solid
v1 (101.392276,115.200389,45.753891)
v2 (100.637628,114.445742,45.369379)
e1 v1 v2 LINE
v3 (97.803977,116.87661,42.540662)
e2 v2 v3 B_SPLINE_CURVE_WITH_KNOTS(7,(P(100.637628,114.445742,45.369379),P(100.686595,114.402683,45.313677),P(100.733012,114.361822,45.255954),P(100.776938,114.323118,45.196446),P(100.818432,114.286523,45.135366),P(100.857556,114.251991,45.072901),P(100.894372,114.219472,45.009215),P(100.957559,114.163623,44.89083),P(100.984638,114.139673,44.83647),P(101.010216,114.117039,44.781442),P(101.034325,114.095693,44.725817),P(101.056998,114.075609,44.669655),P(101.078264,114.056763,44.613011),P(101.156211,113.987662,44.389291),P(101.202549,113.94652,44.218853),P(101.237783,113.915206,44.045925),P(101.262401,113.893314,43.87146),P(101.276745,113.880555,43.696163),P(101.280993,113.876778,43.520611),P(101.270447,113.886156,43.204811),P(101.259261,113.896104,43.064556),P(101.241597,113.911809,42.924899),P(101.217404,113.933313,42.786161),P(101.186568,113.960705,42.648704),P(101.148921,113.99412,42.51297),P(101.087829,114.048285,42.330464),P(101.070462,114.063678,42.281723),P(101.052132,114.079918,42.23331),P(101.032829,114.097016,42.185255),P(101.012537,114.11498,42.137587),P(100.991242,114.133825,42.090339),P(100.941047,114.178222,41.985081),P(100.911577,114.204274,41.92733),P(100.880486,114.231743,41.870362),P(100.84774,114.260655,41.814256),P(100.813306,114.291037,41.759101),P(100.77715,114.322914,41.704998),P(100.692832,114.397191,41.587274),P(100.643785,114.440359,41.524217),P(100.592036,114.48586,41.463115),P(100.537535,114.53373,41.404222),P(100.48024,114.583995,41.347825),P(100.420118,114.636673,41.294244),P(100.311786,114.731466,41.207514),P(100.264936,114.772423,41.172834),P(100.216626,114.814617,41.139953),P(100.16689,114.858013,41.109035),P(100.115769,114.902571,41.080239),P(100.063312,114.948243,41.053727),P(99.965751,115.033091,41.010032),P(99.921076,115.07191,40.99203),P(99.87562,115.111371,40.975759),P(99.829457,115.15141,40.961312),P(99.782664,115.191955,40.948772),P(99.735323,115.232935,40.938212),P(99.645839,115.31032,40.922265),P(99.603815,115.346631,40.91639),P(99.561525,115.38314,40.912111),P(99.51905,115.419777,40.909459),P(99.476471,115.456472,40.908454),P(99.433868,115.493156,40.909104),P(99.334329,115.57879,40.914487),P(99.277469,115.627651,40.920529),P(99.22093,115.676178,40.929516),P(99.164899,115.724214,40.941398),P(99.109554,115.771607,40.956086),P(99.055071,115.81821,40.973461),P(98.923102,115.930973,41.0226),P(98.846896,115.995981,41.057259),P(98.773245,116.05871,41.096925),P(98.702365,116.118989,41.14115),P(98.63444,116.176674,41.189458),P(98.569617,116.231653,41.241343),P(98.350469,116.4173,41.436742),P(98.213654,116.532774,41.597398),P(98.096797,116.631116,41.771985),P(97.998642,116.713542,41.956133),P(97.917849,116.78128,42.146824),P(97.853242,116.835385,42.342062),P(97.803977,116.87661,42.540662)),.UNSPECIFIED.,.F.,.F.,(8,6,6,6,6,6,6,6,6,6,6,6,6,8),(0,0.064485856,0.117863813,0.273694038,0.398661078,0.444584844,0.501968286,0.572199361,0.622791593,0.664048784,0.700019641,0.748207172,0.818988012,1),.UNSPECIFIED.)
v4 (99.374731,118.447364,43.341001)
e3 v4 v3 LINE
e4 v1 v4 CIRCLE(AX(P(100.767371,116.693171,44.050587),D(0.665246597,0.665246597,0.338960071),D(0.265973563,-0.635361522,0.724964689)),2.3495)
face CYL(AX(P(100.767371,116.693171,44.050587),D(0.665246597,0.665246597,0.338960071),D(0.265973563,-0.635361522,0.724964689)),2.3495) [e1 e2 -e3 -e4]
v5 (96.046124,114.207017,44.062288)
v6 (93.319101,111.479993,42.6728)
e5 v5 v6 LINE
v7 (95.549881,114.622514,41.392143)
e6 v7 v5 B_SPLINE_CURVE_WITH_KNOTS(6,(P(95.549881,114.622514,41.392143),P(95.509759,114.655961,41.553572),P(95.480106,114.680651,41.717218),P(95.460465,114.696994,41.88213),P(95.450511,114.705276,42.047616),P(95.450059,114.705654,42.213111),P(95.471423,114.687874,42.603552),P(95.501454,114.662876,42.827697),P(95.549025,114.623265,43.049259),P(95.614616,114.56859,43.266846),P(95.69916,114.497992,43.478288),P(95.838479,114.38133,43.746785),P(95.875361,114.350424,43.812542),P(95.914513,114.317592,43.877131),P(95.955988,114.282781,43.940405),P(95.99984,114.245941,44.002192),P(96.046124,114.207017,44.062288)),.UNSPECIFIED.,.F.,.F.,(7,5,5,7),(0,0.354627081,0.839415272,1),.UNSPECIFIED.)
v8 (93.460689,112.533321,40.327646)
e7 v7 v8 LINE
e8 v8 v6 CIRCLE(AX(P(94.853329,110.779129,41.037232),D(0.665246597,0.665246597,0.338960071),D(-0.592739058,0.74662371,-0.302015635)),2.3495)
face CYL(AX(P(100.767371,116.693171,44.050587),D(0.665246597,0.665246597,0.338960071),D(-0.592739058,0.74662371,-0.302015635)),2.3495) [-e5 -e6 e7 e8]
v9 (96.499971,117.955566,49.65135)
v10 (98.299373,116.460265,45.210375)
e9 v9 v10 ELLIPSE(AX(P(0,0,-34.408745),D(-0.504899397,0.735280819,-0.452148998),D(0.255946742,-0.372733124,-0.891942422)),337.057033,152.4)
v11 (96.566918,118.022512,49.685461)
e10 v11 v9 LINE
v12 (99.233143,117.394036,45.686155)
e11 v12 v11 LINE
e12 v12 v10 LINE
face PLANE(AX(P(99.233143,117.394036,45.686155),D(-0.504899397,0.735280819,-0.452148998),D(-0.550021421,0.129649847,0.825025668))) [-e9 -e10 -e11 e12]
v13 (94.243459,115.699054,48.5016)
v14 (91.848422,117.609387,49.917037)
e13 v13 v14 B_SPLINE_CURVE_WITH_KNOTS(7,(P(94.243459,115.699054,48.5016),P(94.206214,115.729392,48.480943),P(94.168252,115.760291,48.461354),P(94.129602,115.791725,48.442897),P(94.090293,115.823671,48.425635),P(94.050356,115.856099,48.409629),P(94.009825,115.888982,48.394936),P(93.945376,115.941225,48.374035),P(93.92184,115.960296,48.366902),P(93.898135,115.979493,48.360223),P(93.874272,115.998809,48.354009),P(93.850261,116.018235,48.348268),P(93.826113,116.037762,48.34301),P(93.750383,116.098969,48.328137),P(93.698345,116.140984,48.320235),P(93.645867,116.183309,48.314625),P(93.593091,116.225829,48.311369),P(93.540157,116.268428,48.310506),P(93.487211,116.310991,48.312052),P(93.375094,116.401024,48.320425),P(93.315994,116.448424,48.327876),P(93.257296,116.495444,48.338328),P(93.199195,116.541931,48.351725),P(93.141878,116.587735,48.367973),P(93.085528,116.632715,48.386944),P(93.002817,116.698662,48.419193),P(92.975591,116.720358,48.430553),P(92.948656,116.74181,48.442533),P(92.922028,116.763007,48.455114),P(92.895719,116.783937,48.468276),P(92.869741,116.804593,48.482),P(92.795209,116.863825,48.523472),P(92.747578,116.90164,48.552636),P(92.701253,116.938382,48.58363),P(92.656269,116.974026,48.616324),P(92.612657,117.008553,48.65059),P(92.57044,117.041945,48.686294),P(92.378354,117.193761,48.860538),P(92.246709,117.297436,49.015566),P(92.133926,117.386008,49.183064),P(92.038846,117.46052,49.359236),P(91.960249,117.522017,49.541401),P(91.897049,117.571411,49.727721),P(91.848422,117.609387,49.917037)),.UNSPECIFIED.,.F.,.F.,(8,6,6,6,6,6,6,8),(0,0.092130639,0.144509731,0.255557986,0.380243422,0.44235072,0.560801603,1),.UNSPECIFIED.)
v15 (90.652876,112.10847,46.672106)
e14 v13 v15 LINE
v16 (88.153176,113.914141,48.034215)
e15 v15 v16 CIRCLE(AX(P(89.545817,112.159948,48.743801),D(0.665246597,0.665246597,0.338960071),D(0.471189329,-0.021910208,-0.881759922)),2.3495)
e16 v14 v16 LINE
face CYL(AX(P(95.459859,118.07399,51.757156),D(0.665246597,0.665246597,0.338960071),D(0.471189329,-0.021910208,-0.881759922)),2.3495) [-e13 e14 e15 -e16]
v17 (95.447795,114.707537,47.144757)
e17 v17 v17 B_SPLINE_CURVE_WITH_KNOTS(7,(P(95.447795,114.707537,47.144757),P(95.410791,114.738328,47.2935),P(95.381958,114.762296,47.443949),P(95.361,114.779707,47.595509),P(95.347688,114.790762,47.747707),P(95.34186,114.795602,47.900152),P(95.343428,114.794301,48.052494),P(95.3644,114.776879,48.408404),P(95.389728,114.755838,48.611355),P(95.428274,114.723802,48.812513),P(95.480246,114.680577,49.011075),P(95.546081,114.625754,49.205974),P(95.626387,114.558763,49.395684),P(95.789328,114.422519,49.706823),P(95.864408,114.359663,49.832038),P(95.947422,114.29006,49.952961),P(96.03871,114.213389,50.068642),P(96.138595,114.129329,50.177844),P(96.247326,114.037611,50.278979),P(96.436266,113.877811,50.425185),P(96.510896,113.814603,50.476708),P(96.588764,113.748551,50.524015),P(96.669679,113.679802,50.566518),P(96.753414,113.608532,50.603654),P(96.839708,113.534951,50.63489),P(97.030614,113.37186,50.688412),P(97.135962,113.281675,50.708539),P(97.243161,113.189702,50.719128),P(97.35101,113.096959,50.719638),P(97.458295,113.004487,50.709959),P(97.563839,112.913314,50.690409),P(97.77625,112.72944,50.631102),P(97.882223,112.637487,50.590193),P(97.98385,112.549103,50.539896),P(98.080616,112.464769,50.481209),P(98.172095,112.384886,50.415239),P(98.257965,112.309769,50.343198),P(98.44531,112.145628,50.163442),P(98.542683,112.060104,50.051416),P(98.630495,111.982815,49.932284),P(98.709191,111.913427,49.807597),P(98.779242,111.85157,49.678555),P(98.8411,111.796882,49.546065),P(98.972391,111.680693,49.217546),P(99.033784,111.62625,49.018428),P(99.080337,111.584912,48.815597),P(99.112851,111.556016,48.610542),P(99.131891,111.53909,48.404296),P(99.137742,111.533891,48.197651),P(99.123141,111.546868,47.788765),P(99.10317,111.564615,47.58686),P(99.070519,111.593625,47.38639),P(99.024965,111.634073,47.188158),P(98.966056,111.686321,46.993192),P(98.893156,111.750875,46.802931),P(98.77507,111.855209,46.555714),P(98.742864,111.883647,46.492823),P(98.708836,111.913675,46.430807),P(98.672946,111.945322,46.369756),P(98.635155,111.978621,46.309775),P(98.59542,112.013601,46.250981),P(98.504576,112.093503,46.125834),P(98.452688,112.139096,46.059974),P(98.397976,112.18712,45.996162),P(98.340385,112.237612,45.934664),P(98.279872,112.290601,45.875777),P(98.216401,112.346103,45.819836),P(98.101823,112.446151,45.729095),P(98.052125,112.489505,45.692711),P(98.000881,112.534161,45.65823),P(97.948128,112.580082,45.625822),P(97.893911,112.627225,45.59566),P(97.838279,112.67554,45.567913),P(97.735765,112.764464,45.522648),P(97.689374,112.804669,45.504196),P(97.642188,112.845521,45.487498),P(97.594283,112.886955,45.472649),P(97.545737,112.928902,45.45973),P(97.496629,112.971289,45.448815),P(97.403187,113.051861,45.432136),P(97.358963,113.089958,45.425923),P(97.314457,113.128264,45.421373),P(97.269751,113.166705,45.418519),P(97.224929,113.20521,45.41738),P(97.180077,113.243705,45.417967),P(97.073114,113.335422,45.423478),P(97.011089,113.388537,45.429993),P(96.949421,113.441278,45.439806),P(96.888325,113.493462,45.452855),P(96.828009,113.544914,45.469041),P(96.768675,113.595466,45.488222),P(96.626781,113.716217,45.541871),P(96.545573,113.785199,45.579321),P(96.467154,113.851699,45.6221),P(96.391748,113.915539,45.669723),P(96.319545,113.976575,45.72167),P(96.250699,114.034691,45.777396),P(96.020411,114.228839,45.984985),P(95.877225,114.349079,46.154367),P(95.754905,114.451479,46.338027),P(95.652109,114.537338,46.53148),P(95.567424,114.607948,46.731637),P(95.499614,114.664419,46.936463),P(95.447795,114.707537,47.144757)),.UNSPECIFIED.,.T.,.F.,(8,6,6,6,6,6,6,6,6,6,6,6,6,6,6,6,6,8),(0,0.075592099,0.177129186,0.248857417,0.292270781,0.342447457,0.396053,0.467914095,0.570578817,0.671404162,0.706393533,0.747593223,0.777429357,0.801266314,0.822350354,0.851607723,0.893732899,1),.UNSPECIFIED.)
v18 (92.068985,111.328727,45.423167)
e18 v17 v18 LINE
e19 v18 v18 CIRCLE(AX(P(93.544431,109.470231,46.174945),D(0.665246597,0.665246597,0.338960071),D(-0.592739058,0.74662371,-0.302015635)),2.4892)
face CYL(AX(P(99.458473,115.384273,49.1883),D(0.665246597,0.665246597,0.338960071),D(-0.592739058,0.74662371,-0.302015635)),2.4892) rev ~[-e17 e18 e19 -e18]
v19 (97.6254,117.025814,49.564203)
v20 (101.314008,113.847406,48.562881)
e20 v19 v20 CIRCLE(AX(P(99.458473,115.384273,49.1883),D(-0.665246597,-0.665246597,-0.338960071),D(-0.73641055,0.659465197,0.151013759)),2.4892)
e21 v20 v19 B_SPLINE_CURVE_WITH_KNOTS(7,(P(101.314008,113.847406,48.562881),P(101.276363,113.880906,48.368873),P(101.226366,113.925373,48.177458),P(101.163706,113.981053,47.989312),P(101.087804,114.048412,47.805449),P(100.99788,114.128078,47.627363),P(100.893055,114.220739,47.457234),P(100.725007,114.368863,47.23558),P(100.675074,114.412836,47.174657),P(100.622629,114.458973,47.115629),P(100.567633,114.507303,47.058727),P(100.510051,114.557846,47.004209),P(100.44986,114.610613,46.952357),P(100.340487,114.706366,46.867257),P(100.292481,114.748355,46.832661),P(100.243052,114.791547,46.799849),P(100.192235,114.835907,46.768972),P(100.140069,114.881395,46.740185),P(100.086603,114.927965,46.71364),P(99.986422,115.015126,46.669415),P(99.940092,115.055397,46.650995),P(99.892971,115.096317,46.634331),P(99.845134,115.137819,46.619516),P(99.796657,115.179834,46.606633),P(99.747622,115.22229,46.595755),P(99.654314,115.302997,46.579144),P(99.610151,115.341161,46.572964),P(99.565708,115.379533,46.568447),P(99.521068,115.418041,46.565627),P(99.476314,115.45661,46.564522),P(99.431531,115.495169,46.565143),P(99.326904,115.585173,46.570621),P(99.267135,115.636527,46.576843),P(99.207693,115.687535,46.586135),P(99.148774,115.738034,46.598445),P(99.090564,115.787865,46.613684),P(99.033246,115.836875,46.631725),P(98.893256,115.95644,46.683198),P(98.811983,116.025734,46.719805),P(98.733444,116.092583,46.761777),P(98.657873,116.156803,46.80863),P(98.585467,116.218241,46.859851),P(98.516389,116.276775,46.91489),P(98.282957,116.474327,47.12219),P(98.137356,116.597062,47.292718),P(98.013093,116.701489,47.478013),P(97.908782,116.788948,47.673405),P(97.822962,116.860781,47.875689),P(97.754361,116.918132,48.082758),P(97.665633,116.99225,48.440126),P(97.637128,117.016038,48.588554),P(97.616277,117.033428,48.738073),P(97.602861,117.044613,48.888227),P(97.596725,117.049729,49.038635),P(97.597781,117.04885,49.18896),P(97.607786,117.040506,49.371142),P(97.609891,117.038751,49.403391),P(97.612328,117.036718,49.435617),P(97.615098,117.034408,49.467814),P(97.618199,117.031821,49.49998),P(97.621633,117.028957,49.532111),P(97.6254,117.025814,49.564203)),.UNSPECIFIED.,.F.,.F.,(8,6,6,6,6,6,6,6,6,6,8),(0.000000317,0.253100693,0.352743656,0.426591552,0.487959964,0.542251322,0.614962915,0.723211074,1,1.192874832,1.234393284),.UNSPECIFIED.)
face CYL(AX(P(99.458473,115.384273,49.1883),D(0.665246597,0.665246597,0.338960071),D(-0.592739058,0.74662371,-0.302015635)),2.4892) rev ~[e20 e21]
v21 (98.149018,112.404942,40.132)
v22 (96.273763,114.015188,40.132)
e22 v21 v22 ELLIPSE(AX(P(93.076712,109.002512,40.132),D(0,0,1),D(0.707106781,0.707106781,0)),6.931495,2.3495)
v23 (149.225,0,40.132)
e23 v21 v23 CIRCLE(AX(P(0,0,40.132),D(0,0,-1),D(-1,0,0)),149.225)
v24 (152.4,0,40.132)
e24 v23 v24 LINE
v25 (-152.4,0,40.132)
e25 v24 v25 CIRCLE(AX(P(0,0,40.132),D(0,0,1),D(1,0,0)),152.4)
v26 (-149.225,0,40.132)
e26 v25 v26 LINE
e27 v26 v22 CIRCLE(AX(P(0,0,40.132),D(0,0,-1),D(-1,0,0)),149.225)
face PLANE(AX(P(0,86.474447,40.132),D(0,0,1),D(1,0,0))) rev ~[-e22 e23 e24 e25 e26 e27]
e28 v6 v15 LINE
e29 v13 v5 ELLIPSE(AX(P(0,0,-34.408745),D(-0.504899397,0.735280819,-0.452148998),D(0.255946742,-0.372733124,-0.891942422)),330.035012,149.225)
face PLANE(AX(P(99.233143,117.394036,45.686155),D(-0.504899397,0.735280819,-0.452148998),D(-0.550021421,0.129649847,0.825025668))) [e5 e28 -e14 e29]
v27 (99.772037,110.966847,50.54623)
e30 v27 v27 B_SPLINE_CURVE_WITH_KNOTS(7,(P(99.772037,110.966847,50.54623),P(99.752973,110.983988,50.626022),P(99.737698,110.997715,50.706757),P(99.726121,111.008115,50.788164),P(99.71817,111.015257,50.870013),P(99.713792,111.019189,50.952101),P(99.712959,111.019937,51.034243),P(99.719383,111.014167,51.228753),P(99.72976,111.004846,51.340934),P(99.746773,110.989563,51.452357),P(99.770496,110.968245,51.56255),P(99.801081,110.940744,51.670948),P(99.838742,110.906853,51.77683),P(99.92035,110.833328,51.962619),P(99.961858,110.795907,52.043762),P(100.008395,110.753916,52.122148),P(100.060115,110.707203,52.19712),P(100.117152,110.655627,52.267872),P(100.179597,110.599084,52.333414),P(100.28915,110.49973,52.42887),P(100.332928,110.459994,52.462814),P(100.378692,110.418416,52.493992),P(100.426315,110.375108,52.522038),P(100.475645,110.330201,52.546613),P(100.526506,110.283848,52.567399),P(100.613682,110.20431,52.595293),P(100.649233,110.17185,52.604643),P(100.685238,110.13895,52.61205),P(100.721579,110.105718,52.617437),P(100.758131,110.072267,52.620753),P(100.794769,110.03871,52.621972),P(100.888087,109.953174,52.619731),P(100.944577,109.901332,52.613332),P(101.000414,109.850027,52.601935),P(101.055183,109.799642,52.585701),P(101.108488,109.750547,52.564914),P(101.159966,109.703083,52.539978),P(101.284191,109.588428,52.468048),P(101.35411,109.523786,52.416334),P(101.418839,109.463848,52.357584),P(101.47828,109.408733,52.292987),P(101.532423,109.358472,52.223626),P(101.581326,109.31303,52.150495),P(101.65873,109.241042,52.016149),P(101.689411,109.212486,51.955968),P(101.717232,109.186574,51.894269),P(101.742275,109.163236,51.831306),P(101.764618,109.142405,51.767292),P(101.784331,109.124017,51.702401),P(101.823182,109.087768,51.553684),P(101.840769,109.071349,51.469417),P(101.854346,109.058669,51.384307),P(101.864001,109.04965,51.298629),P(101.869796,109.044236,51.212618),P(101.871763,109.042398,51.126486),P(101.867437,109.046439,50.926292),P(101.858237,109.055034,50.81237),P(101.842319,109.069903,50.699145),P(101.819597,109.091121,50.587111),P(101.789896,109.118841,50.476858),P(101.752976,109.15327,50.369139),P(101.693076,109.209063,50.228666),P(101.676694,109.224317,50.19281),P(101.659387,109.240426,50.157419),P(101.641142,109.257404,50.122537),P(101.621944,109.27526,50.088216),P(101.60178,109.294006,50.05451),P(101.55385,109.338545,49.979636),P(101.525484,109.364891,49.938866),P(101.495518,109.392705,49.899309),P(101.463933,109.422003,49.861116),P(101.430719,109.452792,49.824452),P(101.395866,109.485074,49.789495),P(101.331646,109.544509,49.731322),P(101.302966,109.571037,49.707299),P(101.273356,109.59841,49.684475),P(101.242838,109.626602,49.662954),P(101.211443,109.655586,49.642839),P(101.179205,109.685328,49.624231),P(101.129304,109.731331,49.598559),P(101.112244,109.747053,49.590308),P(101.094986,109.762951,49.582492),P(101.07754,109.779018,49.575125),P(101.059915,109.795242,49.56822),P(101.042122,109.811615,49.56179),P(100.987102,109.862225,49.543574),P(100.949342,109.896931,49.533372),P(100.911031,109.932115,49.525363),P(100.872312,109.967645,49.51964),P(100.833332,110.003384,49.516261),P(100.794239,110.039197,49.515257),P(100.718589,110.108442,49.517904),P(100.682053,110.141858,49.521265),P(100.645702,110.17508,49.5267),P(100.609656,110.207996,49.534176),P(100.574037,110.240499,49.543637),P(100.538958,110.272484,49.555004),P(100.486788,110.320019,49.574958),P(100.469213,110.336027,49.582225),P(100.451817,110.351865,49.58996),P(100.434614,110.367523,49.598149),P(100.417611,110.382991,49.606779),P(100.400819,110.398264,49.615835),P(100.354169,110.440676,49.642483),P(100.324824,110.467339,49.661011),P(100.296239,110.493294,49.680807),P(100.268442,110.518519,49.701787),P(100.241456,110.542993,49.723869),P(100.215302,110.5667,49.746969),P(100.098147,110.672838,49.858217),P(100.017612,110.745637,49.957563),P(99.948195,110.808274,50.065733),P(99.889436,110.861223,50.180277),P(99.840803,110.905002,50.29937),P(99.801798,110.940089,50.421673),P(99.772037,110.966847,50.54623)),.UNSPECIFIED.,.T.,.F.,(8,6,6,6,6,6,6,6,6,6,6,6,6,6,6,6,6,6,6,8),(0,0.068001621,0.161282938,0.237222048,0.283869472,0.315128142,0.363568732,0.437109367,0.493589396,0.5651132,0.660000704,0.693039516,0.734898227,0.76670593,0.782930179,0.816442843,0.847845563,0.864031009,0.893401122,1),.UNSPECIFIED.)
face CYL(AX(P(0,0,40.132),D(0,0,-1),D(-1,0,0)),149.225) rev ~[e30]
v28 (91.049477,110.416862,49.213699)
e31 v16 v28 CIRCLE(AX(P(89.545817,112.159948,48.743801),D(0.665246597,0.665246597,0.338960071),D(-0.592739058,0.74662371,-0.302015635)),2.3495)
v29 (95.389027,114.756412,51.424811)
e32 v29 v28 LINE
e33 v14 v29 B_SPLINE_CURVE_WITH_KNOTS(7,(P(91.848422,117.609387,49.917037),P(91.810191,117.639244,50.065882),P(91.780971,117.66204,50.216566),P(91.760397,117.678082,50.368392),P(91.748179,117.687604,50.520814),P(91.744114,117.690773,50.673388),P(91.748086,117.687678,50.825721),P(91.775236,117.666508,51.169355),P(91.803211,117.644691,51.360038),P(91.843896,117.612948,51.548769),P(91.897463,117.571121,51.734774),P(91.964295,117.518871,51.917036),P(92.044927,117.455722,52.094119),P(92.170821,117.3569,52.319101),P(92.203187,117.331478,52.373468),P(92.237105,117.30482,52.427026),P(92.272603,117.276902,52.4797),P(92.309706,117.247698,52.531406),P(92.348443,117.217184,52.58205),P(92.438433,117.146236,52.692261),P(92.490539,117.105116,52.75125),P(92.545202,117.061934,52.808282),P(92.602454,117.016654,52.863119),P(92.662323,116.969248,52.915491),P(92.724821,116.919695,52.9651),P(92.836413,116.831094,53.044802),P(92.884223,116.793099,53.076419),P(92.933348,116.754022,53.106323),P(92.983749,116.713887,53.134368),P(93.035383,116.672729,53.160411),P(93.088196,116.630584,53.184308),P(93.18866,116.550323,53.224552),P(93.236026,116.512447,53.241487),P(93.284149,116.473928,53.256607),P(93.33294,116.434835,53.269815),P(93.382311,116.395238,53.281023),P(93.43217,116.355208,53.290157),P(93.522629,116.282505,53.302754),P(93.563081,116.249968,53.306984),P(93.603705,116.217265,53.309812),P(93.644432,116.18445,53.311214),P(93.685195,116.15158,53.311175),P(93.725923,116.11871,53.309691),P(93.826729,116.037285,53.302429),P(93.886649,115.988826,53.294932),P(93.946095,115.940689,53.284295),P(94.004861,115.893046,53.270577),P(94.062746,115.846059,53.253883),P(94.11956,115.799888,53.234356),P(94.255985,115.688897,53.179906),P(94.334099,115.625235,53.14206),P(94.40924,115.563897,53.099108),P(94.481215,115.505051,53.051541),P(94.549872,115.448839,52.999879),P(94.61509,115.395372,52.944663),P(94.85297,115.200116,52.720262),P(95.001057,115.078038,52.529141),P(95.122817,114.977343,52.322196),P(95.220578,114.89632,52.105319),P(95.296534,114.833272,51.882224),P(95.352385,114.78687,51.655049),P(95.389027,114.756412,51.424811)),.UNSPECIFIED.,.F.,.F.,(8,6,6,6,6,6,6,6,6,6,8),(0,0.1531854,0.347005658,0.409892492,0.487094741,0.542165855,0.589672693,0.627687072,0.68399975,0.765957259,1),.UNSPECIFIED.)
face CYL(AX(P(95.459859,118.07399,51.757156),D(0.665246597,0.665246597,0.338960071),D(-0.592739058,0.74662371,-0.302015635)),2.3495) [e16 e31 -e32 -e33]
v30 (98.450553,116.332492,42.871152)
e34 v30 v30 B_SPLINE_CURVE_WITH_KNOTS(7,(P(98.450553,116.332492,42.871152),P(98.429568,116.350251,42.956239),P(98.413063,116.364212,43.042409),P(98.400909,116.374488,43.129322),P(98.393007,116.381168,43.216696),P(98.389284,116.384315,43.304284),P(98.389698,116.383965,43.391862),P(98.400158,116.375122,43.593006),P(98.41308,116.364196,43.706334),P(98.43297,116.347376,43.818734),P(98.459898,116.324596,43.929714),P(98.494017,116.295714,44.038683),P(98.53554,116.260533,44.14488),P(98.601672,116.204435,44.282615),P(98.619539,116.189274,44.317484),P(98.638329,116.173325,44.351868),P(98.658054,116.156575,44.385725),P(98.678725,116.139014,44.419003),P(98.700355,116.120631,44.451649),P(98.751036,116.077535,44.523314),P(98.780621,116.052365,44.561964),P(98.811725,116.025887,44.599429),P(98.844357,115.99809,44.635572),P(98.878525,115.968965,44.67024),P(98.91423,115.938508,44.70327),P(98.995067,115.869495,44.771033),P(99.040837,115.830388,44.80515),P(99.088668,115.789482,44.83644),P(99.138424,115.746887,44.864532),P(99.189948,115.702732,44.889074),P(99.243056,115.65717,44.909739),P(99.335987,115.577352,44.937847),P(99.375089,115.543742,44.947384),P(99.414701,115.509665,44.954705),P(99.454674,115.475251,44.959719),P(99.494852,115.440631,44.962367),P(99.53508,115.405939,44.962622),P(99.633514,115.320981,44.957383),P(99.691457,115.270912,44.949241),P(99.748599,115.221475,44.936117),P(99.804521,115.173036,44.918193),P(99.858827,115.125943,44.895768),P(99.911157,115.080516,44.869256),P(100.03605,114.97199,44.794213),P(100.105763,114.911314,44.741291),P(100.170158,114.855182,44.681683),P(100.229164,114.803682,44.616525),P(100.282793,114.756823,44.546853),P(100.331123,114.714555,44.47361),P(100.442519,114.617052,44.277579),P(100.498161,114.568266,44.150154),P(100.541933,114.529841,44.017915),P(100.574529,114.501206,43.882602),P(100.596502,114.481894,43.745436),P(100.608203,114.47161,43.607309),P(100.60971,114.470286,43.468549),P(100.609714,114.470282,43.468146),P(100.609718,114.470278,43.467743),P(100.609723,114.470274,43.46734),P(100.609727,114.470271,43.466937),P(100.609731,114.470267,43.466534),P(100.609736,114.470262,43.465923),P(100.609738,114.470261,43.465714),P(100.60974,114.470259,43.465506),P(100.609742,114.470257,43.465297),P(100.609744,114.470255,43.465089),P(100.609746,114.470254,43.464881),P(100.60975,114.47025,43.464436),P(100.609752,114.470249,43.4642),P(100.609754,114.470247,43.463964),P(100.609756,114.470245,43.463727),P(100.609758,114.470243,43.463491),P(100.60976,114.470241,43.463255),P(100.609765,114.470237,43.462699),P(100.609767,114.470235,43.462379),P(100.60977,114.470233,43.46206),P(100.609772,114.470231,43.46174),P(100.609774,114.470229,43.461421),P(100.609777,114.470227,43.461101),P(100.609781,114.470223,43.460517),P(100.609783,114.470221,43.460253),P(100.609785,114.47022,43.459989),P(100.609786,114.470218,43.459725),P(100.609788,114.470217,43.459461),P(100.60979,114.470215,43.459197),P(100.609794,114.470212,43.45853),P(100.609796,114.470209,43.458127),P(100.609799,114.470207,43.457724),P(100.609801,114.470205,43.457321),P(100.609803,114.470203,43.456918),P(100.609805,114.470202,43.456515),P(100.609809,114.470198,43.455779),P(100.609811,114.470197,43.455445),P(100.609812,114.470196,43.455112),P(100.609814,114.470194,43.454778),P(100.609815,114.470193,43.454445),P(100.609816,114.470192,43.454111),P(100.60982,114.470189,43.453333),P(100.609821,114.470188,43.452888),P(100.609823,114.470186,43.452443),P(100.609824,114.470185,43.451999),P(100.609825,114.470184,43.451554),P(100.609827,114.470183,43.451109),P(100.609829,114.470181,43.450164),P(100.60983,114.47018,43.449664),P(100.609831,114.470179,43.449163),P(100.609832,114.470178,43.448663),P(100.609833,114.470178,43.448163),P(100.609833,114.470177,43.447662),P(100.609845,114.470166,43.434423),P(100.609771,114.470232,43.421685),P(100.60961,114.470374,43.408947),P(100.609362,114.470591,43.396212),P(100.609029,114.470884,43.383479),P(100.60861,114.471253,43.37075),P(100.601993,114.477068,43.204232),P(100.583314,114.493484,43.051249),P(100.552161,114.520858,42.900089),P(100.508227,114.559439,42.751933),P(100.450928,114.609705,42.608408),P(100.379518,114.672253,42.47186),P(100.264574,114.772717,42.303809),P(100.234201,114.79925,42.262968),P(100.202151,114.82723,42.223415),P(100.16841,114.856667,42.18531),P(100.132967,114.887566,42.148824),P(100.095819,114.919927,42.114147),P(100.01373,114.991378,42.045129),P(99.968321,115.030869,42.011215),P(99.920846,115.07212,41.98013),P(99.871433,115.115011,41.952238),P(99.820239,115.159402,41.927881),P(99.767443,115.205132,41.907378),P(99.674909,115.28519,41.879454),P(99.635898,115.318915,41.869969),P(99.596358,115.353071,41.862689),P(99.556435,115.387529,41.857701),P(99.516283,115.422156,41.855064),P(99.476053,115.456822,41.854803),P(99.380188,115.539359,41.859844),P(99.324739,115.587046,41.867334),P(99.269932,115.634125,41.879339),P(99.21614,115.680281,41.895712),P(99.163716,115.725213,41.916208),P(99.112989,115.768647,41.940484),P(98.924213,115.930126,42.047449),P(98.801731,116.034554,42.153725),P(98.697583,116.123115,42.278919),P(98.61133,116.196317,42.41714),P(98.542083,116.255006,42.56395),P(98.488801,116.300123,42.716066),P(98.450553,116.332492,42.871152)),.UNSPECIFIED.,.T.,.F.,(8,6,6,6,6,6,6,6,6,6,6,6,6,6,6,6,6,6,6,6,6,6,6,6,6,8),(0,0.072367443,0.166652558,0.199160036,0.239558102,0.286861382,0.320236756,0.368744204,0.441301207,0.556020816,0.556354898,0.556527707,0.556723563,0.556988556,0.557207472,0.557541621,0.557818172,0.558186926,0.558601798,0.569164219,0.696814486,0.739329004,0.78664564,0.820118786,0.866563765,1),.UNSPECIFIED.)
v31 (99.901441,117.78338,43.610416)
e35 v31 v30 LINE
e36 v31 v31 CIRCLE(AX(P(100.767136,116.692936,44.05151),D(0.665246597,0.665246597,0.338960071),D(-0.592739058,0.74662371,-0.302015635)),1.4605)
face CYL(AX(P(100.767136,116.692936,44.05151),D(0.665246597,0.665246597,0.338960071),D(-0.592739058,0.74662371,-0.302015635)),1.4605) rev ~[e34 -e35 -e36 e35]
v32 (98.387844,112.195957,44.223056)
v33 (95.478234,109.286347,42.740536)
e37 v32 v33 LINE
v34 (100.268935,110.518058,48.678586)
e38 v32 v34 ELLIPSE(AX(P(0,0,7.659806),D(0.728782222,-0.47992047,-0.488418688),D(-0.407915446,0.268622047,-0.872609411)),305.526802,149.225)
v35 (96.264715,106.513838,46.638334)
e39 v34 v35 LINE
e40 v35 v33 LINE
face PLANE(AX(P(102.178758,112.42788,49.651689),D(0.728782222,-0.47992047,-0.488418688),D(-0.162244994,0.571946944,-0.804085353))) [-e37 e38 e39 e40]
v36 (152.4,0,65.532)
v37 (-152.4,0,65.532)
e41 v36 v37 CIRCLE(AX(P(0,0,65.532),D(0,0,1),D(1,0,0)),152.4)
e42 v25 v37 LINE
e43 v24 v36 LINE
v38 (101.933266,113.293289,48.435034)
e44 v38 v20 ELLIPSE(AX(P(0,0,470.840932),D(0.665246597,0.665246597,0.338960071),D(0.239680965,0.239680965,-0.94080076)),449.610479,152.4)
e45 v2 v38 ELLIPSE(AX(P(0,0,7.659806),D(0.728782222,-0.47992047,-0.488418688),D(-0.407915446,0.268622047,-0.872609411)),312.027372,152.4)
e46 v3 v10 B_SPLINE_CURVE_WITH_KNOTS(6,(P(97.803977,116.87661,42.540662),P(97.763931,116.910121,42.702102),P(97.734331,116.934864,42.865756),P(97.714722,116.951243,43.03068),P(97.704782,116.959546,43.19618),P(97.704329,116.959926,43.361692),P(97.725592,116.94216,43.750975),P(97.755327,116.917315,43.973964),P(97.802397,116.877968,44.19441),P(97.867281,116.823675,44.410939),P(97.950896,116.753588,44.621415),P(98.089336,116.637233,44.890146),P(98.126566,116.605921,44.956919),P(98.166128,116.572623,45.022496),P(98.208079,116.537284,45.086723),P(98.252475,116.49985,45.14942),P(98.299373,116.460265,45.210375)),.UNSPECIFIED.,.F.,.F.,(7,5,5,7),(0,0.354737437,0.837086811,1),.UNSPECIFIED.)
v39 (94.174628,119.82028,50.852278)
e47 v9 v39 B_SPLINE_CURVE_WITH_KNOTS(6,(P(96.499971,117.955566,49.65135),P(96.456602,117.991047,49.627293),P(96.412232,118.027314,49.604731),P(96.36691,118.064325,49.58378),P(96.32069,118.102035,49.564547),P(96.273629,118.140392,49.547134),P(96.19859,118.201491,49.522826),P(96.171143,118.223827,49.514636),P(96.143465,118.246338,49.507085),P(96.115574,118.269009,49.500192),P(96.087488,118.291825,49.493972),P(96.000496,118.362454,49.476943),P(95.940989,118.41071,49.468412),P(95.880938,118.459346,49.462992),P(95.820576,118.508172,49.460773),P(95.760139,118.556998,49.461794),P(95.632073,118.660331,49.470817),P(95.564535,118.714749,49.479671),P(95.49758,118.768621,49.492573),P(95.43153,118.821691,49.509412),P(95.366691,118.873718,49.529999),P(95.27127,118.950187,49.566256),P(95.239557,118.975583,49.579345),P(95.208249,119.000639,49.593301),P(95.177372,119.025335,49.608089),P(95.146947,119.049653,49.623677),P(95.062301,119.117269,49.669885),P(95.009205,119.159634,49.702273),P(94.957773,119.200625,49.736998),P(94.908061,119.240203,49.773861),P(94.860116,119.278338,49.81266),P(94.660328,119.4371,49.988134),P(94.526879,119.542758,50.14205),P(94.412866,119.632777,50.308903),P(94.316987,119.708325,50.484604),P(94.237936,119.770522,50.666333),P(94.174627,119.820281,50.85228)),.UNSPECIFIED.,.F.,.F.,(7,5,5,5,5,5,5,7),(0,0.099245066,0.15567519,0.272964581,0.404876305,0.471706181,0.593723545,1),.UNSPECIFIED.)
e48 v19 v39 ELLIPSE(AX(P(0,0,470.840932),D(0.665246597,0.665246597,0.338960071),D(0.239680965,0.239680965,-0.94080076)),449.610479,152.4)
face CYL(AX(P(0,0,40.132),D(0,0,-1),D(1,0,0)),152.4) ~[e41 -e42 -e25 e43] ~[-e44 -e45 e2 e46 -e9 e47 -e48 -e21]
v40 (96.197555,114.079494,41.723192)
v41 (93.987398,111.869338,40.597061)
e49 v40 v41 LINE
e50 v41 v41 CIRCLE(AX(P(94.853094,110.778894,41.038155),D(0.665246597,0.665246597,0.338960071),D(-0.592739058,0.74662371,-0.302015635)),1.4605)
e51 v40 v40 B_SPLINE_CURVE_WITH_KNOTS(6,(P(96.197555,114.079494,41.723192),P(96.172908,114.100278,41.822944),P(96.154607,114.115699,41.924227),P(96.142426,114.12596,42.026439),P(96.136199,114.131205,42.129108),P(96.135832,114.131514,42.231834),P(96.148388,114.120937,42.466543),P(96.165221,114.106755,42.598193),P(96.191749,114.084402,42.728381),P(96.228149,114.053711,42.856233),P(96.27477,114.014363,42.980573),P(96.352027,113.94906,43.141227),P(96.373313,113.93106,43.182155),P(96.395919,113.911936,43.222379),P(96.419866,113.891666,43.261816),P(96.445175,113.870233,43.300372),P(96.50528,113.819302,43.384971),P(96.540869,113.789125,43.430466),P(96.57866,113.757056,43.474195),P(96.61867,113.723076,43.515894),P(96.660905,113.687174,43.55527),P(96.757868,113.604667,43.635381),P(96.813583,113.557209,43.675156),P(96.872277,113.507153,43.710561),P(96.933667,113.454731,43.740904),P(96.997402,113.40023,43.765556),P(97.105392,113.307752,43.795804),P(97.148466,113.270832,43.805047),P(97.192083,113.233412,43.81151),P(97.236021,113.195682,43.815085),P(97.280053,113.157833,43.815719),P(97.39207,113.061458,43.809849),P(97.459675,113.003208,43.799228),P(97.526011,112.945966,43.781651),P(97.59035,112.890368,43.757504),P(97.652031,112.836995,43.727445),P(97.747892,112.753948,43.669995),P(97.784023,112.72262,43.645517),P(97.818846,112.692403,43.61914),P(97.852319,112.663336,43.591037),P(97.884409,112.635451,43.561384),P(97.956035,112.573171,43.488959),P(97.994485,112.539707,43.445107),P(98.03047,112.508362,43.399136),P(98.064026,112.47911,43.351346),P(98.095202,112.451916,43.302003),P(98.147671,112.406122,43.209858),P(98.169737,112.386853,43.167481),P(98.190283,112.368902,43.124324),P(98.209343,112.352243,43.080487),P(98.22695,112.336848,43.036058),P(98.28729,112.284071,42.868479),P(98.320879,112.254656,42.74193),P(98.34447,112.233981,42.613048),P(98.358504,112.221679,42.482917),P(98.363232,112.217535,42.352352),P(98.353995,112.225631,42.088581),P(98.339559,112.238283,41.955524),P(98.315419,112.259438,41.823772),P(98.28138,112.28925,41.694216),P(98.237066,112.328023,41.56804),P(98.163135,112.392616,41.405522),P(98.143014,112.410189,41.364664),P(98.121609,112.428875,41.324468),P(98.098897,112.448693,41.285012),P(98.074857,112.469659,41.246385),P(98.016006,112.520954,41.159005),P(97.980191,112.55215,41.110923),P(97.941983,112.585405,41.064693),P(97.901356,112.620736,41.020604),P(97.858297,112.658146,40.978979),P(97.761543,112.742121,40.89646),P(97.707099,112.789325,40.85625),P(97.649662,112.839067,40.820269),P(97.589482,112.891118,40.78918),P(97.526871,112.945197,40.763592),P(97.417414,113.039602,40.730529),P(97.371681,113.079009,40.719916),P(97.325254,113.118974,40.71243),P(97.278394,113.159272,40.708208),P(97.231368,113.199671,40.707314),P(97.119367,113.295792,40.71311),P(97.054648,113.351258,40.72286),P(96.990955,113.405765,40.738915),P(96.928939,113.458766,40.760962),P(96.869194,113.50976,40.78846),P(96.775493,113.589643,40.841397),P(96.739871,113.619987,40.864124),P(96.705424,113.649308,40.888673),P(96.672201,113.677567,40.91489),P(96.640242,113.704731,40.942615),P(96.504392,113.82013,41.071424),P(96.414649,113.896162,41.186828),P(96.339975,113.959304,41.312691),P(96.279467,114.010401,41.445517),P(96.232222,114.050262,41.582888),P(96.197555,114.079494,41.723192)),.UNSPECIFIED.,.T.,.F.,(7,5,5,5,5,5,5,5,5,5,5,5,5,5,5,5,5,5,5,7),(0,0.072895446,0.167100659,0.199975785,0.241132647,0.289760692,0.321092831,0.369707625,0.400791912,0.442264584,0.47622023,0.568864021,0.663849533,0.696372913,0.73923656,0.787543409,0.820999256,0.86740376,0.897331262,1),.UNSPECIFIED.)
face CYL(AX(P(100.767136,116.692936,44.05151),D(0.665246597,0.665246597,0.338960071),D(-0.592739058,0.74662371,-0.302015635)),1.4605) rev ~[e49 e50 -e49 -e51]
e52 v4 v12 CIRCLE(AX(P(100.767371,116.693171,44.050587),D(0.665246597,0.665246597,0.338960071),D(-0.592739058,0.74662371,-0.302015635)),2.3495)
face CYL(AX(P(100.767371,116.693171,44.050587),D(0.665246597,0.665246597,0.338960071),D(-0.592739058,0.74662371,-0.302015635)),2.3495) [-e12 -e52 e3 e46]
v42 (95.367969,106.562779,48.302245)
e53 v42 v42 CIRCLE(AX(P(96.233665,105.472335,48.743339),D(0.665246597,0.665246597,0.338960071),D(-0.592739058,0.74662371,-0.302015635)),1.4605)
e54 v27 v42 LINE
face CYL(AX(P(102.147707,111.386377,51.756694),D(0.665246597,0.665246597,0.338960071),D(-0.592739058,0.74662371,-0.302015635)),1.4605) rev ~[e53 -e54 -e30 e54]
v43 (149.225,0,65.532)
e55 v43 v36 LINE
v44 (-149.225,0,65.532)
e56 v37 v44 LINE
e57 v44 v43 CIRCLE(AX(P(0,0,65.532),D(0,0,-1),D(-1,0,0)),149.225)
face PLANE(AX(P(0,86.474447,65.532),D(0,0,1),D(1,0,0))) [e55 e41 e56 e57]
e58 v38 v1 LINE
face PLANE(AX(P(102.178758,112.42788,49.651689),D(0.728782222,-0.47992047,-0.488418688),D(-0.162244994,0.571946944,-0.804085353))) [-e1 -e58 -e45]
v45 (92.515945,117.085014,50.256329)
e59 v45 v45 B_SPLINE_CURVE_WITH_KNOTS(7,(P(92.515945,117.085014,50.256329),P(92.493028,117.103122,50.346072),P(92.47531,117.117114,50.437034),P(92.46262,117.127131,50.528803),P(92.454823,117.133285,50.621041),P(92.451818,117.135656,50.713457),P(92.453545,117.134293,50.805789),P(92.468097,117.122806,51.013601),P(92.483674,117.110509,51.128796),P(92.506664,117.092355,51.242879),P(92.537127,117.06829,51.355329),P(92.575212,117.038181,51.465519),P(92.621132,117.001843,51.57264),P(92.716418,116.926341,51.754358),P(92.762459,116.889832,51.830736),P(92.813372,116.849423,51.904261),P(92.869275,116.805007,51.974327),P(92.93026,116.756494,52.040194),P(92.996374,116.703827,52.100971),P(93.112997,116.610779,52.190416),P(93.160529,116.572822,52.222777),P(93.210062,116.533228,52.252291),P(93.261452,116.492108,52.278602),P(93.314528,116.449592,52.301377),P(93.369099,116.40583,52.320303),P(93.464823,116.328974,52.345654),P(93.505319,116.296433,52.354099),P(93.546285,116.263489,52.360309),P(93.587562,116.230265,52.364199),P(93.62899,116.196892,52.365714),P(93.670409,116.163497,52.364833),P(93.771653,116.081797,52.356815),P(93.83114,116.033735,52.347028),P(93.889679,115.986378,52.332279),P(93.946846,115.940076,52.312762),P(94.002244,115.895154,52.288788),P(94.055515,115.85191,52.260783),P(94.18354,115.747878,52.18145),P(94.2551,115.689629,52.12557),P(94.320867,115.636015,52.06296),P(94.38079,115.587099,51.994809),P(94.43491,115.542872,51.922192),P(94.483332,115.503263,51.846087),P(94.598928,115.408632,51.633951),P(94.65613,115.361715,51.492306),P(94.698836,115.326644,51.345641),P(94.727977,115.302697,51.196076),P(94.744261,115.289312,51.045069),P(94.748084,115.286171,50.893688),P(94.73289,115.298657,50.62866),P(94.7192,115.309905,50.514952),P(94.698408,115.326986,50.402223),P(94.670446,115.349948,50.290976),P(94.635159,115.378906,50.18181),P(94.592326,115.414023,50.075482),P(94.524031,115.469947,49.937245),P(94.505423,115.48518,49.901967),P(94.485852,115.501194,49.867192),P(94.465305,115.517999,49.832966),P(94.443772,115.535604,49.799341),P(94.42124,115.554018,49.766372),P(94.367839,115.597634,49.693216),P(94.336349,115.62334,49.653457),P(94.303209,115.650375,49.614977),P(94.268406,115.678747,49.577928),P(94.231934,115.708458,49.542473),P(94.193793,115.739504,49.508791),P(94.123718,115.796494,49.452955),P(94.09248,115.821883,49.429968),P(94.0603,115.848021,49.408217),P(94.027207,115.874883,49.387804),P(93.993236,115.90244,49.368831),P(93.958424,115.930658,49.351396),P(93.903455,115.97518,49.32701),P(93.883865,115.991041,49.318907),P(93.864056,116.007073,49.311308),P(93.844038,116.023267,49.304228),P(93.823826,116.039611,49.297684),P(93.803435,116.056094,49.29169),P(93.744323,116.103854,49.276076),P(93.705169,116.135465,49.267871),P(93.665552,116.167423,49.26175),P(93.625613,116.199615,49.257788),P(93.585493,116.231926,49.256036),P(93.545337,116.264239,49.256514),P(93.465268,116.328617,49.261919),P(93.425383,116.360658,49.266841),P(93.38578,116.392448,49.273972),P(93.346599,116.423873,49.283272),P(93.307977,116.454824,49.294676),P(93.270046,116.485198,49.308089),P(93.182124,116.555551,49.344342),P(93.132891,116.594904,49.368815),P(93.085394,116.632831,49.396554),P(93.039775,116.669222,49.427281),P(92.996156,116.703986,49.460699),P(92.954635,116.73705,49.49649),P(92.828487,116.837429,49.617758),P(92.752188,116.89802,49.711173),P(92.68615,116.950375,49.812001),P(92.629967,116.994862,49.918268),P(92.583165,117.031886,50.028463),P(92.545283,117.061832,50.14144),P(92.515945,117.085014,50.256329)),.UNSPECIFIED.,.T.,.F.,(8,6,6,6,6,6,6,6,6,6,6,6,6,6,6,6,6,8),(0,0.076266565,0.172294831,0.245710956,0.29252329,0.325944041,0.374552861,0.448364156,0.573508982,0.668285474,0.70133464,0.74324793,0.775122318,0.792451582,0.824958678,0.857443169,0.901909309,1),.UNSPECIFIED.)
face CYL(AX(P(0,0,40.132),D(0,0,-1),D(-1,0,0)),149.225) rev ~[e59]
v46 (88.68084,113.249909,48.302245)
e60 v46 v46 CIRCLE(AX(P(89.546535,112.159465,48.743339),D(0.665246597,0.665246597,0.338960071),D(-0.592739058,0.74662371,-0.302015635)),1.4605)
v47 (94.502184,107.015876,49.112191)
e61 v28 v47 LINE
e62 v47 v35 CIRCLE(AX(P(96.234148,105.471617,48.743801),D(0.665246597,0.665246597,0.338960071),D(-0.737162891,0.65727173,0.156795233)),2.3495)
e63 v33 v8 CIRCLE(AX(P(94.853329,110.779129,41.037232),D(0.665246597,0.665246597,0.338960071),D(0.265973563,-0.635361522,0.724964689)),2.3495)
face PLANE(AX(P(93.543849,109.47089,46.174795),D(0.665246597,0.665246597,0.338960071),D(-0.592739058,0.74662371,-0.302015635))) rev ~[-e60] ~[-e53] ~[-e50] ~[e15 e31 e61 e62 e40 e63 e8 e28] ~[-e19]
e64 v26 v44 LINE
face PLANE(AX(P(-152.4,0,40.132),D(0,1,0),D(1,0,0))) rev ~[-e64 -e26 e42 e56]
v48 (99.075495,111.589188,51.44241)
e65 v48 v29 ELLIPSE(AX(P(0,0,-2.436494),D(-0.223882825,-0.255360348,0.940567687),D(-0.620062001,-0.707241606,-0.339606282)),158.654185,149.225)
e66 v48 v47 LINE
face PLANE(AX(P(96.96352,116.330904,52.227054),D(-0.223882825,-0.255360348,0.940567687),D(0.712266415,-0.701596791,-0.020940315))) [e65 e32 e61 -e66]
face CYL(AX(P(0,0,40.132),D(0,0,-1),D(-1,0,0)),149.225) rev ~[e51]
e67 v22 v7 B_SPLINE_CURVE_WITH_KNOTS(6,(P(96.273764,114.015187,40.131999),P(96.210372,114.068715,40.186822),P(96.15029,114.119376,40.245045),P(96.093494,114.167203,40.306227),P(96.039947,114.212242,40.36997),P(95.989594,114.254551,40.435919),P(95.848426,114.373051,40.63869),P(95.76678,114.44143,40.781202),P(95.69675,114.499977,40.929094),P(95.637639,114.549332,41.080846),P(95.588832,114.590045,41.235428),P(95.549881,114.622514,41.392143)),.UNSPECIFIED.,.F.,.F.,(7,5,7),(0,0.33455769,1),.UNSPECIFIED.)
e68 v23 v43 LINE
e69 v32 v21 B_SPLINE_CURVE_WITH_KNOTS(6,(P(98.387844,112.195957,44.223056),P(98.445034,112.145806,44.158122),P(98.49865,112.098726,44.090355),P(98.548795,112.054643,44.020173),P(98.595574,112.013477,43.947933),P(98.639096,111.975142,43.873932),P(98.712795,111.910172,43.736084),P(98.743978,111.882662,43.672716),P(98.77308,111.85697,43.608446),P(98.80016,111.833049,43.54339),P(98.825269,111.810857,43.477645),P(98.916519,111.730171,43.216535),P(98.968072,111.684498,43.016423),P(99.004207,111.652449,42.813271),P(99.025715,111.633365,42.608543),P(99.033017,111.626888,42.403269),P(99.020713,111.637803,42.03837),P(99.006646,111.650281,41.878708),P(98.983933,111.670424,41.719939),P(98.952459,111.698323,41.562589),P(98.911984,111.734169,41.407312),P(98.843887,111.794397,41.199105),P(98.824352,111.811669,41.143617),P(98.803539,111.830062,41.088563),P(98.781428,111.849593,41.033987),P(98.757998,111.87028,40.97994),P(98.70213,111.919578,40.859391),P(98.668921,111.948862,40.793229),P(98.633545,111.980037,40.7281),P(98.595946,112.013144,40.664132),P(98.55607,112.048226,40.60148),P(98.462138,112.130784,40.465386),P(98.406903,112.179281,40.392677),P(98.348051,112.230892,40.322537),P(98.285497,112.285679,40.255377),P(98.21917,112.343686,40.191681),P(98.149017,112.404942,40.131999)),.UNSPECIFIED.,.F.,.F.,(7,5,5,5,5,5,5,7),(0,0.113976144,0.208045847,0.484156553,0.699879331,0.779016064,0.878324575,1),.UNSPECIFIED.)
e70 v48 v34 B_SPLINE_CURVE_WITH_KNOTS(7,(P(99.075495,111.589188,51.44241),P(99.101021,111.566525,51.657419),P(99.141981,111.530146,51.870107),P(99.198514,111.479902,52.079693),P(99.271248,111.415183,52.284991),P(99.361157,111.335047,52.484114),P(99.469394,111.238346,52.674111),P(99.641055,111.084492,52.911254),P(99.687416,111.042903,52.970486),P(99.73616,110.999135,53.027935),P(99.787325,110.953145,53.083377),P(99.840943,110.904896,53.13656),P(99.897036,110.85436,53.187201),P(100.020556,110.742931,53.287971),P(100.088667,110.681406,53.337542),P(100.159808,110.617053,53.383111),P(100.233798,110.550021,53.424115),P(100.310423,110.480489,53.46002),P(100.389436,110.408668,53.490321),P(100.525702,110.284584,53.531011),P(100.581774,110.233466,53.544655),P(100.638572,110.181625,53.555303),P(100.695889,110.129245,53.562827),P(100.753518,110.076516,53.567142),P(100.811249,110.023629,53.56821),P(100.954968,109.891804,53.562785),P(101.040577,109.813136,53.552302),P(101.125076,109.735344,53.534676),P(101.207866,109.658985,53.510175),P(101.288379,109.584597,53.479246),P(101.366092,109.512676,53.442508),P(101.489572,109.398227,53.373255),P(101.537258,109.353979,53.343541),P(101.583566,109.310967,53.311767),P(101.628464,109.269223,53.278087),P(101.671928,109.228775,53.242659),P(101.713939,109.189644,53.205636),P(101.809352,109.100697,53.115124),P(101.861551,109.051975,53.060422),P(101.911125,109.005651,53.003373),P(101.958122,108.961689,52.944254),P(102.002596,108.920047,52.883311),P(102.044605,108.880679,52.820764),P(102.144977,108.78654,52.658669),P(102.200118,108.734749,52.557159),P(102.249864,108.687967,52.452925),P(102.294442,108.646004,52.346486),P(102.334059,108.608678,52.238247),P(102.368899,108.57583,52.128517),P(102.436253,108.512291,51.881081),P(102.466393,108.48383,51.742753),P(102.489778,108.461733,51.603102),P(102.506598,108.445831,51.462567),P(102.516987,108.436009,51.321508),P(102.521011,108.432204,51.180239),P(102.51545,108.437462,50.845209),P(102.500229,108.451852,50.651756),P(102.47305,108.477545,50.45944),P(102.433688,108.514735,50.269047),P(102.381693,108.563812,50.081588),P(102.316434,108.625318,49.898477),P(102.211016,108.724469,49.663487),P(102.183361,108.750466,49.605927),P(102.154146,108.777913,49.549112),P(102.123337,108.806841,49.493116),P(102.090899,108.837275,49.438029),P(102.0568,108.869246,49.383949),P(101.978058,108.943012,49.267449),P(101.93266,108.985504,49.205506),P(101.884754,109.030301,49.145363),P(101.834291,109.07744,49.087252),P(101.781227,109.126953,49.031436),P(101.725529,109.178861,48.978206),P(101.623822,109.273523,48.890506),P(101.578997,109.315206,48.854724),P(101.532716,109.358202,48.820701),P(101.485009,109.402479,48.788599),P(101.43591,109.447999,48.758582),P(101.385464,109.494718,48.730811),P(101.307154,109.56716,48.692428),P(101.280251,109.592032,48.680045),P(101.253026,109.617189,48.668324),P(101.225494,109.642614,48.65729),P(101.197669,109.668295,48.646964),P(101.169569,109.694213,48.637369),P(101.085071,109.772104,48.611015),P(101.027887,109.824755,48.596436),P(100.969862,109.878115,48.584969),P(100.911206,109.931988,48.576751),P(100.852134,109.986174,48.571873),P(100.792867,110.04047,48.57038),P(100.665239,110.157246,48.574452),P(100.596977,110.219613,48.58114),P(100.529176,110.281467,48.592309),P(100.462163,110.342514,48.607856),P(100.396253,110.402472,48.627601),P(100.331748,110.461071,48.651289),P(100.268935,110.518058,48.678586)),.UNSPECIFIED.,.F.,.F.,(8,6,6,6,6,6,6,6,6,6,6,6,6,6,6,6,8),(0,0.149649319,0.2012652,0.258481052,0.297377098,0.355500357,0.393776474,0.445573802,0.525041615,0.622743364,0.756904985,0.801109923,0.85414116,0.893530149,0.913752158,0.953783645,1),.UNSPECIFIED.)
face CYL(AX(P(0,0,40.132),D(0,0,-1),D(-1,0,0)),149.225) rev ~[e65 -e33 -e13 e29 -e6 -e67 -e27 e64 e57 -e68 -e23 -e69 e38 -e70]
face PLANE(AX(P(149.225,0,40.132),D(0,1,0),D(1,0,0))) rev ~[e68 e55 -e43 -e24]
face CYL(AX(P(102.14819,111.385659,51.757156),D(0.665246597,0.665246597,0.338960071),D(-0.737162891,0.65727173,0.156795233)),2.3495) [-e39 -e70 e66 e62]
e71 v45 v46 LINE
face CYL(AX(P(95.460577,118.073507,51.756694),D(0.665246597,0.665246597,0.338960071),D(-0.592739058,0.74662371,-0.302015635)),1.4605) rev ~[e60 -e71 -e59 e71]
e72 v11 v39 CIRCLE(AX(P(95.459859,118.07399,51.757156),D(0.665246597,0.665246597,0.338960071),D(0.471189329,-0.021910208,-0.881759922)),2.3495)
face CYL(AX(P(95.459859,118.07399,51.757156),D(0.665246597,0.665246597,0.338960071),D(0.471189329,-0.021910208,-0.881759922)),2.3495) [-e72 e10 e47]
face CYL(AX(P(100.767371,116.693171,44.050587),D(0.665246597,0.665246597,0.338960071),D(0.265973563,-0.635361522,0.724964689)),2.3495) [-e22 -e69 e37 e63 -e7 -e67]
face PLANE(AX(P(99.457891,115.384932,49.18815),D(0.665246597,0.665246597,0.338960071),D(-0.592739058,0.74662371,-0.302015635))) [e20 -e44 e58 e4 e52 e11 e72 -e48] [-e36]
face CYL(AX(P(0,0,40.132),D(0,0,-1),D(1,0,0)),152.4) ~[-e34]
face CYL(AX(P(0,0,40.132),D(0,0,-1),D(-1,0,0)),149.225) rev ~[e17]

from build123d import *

# Parameters (mm, degrees)
F1_DEPTH = 25.4
F8_START = -2.794
F7_R     = 2.4892
F7_R_2   = 1.4605
F8_DEPTH = 8.89


with BuildPart() as f1:
    # F0 (on Top) → F1 (new body)
    with BuildSketch(Plane.XY):
        with BuildLine():
            Line((149.225, 0), (152.4, 0))
            ThreePointArc((152.4, 0), (0, 152.4), (-152.4, 0))
            Line((-152.4, 0), (-149.225, 0))
            ThreePointArc((-149.225, 0), (0, 149.225), (149.225, 0))
        make_face()
    extrude(amount=F1_DEPTH)


with BuildPart() as f1_1:
    # F3: moved
    add(f1.part.moved(Location((0, 0, 40.132))))

    # F7 (on line) → F8 (join)
    with BuildSketch(Plane(origin=(108.0295784467, 108.0295784467, 55.0438195167), x_dir=(-0.5927390582, 0.7466237105, -0.3020156351), z_dir=(0.6652465971, 0.6652465971, 0.3389600714)).offset(F8_START)):
        with BuildLine():
            ThreePointArc((12.093789379, -5.2641145775), (13.3911732083, -4.2558924077), (15.0318776469, -4.3442422195))
            Line((15.0318776469, -4.3442422195), (15.8736359982, 0.4296066149))
            ThreePointArc((15.8736359982, 0.4296066149), (14.3517980719, 1.0490628846), (13.6079590341, 2.5141295145))
            Line((13.6079590341, 2.5141295145), (9.0528054939, 0.8561892133))
            ThreePointArc((9.0528054939, 0.8561892133), (9.2626030629, 0.3163827378), (9.3339812394, -0.258344334))
            ThreePointArc((9.3339812394, -0.258344334), (9.0820807874, -1.3167518103), (8.3803941903, -2.1482060442))
            Line((8.3803941903, -2.1482060442), (12.093789379, -5.2641145775))
        make_face()
        with Locations((12.3400769571, -1.3261062497)):
            Circle(F7_R, mode=Mode.SUBTRACT)
        with BuildLine():
            ThreePointArc((13.6079590341, 2.5141295145), (14.3517980719, 1.0490628846), (15.8736359982, 0.4296066149))
            ThreePointArc((15.8736359982, 0.4296066149), (17.5793729163, 1.0925469), (18.2920837601, 2.7780947363))
            ThreePointArc((18.2920837601, 2.7780947363), (15.8103917482, 5.1238729701), (13.6079590341, 2.5141295145))
        make_face()
        with Locations((15.941936242, 2.7773570432)):
            Circle(F7_R_2, mode=Mode.SUBTRACT)
        with BuildLine():
            ThreePointArc((9.0528054939, 0.8561892133), (4.6917028878, 0.2548005582), (8.3803941903, -2.1482060442))
            ThreePointArc((8.3803941903, -2.1482060442), (9.0820807874, -1.3167518103), (9.3339812394, -0.258344334))
            ThreePointArc((9.3339812394, -0.258344334), (9.2626030629, 0.3163827378), (9.0528054939, 0.8561892133))
        make_face()
        with Locations((6.9854438594, -0.2585362546)):
            Circle(F7_R_2, mode=Mode.SUBTRACT)
        with BuildLine():
            ThreePointArc((12.093789379, -5.2641145775), (13.4518332042, -8.7583440595), (16.4426658717, -6.4980691515))
            ThreePointArc((16.4426658717, -6.4980691515), (16.0585734078, -5.2106983941), (15.0318776469, -4.3442422195))
            ThreePointArc((15.0318776469, -4.3442422195), (13.3911732083, -4.2558924077), (12.093789379, -5.2641145775))
        make_face()
        with Locations((14.0928507698, -6.4971395379)):
            Circle(F7_R_2, mode=Mode.SUBTRACT)
    extrude(amount=-F8_DEPTH)


solid = f1_1.part
